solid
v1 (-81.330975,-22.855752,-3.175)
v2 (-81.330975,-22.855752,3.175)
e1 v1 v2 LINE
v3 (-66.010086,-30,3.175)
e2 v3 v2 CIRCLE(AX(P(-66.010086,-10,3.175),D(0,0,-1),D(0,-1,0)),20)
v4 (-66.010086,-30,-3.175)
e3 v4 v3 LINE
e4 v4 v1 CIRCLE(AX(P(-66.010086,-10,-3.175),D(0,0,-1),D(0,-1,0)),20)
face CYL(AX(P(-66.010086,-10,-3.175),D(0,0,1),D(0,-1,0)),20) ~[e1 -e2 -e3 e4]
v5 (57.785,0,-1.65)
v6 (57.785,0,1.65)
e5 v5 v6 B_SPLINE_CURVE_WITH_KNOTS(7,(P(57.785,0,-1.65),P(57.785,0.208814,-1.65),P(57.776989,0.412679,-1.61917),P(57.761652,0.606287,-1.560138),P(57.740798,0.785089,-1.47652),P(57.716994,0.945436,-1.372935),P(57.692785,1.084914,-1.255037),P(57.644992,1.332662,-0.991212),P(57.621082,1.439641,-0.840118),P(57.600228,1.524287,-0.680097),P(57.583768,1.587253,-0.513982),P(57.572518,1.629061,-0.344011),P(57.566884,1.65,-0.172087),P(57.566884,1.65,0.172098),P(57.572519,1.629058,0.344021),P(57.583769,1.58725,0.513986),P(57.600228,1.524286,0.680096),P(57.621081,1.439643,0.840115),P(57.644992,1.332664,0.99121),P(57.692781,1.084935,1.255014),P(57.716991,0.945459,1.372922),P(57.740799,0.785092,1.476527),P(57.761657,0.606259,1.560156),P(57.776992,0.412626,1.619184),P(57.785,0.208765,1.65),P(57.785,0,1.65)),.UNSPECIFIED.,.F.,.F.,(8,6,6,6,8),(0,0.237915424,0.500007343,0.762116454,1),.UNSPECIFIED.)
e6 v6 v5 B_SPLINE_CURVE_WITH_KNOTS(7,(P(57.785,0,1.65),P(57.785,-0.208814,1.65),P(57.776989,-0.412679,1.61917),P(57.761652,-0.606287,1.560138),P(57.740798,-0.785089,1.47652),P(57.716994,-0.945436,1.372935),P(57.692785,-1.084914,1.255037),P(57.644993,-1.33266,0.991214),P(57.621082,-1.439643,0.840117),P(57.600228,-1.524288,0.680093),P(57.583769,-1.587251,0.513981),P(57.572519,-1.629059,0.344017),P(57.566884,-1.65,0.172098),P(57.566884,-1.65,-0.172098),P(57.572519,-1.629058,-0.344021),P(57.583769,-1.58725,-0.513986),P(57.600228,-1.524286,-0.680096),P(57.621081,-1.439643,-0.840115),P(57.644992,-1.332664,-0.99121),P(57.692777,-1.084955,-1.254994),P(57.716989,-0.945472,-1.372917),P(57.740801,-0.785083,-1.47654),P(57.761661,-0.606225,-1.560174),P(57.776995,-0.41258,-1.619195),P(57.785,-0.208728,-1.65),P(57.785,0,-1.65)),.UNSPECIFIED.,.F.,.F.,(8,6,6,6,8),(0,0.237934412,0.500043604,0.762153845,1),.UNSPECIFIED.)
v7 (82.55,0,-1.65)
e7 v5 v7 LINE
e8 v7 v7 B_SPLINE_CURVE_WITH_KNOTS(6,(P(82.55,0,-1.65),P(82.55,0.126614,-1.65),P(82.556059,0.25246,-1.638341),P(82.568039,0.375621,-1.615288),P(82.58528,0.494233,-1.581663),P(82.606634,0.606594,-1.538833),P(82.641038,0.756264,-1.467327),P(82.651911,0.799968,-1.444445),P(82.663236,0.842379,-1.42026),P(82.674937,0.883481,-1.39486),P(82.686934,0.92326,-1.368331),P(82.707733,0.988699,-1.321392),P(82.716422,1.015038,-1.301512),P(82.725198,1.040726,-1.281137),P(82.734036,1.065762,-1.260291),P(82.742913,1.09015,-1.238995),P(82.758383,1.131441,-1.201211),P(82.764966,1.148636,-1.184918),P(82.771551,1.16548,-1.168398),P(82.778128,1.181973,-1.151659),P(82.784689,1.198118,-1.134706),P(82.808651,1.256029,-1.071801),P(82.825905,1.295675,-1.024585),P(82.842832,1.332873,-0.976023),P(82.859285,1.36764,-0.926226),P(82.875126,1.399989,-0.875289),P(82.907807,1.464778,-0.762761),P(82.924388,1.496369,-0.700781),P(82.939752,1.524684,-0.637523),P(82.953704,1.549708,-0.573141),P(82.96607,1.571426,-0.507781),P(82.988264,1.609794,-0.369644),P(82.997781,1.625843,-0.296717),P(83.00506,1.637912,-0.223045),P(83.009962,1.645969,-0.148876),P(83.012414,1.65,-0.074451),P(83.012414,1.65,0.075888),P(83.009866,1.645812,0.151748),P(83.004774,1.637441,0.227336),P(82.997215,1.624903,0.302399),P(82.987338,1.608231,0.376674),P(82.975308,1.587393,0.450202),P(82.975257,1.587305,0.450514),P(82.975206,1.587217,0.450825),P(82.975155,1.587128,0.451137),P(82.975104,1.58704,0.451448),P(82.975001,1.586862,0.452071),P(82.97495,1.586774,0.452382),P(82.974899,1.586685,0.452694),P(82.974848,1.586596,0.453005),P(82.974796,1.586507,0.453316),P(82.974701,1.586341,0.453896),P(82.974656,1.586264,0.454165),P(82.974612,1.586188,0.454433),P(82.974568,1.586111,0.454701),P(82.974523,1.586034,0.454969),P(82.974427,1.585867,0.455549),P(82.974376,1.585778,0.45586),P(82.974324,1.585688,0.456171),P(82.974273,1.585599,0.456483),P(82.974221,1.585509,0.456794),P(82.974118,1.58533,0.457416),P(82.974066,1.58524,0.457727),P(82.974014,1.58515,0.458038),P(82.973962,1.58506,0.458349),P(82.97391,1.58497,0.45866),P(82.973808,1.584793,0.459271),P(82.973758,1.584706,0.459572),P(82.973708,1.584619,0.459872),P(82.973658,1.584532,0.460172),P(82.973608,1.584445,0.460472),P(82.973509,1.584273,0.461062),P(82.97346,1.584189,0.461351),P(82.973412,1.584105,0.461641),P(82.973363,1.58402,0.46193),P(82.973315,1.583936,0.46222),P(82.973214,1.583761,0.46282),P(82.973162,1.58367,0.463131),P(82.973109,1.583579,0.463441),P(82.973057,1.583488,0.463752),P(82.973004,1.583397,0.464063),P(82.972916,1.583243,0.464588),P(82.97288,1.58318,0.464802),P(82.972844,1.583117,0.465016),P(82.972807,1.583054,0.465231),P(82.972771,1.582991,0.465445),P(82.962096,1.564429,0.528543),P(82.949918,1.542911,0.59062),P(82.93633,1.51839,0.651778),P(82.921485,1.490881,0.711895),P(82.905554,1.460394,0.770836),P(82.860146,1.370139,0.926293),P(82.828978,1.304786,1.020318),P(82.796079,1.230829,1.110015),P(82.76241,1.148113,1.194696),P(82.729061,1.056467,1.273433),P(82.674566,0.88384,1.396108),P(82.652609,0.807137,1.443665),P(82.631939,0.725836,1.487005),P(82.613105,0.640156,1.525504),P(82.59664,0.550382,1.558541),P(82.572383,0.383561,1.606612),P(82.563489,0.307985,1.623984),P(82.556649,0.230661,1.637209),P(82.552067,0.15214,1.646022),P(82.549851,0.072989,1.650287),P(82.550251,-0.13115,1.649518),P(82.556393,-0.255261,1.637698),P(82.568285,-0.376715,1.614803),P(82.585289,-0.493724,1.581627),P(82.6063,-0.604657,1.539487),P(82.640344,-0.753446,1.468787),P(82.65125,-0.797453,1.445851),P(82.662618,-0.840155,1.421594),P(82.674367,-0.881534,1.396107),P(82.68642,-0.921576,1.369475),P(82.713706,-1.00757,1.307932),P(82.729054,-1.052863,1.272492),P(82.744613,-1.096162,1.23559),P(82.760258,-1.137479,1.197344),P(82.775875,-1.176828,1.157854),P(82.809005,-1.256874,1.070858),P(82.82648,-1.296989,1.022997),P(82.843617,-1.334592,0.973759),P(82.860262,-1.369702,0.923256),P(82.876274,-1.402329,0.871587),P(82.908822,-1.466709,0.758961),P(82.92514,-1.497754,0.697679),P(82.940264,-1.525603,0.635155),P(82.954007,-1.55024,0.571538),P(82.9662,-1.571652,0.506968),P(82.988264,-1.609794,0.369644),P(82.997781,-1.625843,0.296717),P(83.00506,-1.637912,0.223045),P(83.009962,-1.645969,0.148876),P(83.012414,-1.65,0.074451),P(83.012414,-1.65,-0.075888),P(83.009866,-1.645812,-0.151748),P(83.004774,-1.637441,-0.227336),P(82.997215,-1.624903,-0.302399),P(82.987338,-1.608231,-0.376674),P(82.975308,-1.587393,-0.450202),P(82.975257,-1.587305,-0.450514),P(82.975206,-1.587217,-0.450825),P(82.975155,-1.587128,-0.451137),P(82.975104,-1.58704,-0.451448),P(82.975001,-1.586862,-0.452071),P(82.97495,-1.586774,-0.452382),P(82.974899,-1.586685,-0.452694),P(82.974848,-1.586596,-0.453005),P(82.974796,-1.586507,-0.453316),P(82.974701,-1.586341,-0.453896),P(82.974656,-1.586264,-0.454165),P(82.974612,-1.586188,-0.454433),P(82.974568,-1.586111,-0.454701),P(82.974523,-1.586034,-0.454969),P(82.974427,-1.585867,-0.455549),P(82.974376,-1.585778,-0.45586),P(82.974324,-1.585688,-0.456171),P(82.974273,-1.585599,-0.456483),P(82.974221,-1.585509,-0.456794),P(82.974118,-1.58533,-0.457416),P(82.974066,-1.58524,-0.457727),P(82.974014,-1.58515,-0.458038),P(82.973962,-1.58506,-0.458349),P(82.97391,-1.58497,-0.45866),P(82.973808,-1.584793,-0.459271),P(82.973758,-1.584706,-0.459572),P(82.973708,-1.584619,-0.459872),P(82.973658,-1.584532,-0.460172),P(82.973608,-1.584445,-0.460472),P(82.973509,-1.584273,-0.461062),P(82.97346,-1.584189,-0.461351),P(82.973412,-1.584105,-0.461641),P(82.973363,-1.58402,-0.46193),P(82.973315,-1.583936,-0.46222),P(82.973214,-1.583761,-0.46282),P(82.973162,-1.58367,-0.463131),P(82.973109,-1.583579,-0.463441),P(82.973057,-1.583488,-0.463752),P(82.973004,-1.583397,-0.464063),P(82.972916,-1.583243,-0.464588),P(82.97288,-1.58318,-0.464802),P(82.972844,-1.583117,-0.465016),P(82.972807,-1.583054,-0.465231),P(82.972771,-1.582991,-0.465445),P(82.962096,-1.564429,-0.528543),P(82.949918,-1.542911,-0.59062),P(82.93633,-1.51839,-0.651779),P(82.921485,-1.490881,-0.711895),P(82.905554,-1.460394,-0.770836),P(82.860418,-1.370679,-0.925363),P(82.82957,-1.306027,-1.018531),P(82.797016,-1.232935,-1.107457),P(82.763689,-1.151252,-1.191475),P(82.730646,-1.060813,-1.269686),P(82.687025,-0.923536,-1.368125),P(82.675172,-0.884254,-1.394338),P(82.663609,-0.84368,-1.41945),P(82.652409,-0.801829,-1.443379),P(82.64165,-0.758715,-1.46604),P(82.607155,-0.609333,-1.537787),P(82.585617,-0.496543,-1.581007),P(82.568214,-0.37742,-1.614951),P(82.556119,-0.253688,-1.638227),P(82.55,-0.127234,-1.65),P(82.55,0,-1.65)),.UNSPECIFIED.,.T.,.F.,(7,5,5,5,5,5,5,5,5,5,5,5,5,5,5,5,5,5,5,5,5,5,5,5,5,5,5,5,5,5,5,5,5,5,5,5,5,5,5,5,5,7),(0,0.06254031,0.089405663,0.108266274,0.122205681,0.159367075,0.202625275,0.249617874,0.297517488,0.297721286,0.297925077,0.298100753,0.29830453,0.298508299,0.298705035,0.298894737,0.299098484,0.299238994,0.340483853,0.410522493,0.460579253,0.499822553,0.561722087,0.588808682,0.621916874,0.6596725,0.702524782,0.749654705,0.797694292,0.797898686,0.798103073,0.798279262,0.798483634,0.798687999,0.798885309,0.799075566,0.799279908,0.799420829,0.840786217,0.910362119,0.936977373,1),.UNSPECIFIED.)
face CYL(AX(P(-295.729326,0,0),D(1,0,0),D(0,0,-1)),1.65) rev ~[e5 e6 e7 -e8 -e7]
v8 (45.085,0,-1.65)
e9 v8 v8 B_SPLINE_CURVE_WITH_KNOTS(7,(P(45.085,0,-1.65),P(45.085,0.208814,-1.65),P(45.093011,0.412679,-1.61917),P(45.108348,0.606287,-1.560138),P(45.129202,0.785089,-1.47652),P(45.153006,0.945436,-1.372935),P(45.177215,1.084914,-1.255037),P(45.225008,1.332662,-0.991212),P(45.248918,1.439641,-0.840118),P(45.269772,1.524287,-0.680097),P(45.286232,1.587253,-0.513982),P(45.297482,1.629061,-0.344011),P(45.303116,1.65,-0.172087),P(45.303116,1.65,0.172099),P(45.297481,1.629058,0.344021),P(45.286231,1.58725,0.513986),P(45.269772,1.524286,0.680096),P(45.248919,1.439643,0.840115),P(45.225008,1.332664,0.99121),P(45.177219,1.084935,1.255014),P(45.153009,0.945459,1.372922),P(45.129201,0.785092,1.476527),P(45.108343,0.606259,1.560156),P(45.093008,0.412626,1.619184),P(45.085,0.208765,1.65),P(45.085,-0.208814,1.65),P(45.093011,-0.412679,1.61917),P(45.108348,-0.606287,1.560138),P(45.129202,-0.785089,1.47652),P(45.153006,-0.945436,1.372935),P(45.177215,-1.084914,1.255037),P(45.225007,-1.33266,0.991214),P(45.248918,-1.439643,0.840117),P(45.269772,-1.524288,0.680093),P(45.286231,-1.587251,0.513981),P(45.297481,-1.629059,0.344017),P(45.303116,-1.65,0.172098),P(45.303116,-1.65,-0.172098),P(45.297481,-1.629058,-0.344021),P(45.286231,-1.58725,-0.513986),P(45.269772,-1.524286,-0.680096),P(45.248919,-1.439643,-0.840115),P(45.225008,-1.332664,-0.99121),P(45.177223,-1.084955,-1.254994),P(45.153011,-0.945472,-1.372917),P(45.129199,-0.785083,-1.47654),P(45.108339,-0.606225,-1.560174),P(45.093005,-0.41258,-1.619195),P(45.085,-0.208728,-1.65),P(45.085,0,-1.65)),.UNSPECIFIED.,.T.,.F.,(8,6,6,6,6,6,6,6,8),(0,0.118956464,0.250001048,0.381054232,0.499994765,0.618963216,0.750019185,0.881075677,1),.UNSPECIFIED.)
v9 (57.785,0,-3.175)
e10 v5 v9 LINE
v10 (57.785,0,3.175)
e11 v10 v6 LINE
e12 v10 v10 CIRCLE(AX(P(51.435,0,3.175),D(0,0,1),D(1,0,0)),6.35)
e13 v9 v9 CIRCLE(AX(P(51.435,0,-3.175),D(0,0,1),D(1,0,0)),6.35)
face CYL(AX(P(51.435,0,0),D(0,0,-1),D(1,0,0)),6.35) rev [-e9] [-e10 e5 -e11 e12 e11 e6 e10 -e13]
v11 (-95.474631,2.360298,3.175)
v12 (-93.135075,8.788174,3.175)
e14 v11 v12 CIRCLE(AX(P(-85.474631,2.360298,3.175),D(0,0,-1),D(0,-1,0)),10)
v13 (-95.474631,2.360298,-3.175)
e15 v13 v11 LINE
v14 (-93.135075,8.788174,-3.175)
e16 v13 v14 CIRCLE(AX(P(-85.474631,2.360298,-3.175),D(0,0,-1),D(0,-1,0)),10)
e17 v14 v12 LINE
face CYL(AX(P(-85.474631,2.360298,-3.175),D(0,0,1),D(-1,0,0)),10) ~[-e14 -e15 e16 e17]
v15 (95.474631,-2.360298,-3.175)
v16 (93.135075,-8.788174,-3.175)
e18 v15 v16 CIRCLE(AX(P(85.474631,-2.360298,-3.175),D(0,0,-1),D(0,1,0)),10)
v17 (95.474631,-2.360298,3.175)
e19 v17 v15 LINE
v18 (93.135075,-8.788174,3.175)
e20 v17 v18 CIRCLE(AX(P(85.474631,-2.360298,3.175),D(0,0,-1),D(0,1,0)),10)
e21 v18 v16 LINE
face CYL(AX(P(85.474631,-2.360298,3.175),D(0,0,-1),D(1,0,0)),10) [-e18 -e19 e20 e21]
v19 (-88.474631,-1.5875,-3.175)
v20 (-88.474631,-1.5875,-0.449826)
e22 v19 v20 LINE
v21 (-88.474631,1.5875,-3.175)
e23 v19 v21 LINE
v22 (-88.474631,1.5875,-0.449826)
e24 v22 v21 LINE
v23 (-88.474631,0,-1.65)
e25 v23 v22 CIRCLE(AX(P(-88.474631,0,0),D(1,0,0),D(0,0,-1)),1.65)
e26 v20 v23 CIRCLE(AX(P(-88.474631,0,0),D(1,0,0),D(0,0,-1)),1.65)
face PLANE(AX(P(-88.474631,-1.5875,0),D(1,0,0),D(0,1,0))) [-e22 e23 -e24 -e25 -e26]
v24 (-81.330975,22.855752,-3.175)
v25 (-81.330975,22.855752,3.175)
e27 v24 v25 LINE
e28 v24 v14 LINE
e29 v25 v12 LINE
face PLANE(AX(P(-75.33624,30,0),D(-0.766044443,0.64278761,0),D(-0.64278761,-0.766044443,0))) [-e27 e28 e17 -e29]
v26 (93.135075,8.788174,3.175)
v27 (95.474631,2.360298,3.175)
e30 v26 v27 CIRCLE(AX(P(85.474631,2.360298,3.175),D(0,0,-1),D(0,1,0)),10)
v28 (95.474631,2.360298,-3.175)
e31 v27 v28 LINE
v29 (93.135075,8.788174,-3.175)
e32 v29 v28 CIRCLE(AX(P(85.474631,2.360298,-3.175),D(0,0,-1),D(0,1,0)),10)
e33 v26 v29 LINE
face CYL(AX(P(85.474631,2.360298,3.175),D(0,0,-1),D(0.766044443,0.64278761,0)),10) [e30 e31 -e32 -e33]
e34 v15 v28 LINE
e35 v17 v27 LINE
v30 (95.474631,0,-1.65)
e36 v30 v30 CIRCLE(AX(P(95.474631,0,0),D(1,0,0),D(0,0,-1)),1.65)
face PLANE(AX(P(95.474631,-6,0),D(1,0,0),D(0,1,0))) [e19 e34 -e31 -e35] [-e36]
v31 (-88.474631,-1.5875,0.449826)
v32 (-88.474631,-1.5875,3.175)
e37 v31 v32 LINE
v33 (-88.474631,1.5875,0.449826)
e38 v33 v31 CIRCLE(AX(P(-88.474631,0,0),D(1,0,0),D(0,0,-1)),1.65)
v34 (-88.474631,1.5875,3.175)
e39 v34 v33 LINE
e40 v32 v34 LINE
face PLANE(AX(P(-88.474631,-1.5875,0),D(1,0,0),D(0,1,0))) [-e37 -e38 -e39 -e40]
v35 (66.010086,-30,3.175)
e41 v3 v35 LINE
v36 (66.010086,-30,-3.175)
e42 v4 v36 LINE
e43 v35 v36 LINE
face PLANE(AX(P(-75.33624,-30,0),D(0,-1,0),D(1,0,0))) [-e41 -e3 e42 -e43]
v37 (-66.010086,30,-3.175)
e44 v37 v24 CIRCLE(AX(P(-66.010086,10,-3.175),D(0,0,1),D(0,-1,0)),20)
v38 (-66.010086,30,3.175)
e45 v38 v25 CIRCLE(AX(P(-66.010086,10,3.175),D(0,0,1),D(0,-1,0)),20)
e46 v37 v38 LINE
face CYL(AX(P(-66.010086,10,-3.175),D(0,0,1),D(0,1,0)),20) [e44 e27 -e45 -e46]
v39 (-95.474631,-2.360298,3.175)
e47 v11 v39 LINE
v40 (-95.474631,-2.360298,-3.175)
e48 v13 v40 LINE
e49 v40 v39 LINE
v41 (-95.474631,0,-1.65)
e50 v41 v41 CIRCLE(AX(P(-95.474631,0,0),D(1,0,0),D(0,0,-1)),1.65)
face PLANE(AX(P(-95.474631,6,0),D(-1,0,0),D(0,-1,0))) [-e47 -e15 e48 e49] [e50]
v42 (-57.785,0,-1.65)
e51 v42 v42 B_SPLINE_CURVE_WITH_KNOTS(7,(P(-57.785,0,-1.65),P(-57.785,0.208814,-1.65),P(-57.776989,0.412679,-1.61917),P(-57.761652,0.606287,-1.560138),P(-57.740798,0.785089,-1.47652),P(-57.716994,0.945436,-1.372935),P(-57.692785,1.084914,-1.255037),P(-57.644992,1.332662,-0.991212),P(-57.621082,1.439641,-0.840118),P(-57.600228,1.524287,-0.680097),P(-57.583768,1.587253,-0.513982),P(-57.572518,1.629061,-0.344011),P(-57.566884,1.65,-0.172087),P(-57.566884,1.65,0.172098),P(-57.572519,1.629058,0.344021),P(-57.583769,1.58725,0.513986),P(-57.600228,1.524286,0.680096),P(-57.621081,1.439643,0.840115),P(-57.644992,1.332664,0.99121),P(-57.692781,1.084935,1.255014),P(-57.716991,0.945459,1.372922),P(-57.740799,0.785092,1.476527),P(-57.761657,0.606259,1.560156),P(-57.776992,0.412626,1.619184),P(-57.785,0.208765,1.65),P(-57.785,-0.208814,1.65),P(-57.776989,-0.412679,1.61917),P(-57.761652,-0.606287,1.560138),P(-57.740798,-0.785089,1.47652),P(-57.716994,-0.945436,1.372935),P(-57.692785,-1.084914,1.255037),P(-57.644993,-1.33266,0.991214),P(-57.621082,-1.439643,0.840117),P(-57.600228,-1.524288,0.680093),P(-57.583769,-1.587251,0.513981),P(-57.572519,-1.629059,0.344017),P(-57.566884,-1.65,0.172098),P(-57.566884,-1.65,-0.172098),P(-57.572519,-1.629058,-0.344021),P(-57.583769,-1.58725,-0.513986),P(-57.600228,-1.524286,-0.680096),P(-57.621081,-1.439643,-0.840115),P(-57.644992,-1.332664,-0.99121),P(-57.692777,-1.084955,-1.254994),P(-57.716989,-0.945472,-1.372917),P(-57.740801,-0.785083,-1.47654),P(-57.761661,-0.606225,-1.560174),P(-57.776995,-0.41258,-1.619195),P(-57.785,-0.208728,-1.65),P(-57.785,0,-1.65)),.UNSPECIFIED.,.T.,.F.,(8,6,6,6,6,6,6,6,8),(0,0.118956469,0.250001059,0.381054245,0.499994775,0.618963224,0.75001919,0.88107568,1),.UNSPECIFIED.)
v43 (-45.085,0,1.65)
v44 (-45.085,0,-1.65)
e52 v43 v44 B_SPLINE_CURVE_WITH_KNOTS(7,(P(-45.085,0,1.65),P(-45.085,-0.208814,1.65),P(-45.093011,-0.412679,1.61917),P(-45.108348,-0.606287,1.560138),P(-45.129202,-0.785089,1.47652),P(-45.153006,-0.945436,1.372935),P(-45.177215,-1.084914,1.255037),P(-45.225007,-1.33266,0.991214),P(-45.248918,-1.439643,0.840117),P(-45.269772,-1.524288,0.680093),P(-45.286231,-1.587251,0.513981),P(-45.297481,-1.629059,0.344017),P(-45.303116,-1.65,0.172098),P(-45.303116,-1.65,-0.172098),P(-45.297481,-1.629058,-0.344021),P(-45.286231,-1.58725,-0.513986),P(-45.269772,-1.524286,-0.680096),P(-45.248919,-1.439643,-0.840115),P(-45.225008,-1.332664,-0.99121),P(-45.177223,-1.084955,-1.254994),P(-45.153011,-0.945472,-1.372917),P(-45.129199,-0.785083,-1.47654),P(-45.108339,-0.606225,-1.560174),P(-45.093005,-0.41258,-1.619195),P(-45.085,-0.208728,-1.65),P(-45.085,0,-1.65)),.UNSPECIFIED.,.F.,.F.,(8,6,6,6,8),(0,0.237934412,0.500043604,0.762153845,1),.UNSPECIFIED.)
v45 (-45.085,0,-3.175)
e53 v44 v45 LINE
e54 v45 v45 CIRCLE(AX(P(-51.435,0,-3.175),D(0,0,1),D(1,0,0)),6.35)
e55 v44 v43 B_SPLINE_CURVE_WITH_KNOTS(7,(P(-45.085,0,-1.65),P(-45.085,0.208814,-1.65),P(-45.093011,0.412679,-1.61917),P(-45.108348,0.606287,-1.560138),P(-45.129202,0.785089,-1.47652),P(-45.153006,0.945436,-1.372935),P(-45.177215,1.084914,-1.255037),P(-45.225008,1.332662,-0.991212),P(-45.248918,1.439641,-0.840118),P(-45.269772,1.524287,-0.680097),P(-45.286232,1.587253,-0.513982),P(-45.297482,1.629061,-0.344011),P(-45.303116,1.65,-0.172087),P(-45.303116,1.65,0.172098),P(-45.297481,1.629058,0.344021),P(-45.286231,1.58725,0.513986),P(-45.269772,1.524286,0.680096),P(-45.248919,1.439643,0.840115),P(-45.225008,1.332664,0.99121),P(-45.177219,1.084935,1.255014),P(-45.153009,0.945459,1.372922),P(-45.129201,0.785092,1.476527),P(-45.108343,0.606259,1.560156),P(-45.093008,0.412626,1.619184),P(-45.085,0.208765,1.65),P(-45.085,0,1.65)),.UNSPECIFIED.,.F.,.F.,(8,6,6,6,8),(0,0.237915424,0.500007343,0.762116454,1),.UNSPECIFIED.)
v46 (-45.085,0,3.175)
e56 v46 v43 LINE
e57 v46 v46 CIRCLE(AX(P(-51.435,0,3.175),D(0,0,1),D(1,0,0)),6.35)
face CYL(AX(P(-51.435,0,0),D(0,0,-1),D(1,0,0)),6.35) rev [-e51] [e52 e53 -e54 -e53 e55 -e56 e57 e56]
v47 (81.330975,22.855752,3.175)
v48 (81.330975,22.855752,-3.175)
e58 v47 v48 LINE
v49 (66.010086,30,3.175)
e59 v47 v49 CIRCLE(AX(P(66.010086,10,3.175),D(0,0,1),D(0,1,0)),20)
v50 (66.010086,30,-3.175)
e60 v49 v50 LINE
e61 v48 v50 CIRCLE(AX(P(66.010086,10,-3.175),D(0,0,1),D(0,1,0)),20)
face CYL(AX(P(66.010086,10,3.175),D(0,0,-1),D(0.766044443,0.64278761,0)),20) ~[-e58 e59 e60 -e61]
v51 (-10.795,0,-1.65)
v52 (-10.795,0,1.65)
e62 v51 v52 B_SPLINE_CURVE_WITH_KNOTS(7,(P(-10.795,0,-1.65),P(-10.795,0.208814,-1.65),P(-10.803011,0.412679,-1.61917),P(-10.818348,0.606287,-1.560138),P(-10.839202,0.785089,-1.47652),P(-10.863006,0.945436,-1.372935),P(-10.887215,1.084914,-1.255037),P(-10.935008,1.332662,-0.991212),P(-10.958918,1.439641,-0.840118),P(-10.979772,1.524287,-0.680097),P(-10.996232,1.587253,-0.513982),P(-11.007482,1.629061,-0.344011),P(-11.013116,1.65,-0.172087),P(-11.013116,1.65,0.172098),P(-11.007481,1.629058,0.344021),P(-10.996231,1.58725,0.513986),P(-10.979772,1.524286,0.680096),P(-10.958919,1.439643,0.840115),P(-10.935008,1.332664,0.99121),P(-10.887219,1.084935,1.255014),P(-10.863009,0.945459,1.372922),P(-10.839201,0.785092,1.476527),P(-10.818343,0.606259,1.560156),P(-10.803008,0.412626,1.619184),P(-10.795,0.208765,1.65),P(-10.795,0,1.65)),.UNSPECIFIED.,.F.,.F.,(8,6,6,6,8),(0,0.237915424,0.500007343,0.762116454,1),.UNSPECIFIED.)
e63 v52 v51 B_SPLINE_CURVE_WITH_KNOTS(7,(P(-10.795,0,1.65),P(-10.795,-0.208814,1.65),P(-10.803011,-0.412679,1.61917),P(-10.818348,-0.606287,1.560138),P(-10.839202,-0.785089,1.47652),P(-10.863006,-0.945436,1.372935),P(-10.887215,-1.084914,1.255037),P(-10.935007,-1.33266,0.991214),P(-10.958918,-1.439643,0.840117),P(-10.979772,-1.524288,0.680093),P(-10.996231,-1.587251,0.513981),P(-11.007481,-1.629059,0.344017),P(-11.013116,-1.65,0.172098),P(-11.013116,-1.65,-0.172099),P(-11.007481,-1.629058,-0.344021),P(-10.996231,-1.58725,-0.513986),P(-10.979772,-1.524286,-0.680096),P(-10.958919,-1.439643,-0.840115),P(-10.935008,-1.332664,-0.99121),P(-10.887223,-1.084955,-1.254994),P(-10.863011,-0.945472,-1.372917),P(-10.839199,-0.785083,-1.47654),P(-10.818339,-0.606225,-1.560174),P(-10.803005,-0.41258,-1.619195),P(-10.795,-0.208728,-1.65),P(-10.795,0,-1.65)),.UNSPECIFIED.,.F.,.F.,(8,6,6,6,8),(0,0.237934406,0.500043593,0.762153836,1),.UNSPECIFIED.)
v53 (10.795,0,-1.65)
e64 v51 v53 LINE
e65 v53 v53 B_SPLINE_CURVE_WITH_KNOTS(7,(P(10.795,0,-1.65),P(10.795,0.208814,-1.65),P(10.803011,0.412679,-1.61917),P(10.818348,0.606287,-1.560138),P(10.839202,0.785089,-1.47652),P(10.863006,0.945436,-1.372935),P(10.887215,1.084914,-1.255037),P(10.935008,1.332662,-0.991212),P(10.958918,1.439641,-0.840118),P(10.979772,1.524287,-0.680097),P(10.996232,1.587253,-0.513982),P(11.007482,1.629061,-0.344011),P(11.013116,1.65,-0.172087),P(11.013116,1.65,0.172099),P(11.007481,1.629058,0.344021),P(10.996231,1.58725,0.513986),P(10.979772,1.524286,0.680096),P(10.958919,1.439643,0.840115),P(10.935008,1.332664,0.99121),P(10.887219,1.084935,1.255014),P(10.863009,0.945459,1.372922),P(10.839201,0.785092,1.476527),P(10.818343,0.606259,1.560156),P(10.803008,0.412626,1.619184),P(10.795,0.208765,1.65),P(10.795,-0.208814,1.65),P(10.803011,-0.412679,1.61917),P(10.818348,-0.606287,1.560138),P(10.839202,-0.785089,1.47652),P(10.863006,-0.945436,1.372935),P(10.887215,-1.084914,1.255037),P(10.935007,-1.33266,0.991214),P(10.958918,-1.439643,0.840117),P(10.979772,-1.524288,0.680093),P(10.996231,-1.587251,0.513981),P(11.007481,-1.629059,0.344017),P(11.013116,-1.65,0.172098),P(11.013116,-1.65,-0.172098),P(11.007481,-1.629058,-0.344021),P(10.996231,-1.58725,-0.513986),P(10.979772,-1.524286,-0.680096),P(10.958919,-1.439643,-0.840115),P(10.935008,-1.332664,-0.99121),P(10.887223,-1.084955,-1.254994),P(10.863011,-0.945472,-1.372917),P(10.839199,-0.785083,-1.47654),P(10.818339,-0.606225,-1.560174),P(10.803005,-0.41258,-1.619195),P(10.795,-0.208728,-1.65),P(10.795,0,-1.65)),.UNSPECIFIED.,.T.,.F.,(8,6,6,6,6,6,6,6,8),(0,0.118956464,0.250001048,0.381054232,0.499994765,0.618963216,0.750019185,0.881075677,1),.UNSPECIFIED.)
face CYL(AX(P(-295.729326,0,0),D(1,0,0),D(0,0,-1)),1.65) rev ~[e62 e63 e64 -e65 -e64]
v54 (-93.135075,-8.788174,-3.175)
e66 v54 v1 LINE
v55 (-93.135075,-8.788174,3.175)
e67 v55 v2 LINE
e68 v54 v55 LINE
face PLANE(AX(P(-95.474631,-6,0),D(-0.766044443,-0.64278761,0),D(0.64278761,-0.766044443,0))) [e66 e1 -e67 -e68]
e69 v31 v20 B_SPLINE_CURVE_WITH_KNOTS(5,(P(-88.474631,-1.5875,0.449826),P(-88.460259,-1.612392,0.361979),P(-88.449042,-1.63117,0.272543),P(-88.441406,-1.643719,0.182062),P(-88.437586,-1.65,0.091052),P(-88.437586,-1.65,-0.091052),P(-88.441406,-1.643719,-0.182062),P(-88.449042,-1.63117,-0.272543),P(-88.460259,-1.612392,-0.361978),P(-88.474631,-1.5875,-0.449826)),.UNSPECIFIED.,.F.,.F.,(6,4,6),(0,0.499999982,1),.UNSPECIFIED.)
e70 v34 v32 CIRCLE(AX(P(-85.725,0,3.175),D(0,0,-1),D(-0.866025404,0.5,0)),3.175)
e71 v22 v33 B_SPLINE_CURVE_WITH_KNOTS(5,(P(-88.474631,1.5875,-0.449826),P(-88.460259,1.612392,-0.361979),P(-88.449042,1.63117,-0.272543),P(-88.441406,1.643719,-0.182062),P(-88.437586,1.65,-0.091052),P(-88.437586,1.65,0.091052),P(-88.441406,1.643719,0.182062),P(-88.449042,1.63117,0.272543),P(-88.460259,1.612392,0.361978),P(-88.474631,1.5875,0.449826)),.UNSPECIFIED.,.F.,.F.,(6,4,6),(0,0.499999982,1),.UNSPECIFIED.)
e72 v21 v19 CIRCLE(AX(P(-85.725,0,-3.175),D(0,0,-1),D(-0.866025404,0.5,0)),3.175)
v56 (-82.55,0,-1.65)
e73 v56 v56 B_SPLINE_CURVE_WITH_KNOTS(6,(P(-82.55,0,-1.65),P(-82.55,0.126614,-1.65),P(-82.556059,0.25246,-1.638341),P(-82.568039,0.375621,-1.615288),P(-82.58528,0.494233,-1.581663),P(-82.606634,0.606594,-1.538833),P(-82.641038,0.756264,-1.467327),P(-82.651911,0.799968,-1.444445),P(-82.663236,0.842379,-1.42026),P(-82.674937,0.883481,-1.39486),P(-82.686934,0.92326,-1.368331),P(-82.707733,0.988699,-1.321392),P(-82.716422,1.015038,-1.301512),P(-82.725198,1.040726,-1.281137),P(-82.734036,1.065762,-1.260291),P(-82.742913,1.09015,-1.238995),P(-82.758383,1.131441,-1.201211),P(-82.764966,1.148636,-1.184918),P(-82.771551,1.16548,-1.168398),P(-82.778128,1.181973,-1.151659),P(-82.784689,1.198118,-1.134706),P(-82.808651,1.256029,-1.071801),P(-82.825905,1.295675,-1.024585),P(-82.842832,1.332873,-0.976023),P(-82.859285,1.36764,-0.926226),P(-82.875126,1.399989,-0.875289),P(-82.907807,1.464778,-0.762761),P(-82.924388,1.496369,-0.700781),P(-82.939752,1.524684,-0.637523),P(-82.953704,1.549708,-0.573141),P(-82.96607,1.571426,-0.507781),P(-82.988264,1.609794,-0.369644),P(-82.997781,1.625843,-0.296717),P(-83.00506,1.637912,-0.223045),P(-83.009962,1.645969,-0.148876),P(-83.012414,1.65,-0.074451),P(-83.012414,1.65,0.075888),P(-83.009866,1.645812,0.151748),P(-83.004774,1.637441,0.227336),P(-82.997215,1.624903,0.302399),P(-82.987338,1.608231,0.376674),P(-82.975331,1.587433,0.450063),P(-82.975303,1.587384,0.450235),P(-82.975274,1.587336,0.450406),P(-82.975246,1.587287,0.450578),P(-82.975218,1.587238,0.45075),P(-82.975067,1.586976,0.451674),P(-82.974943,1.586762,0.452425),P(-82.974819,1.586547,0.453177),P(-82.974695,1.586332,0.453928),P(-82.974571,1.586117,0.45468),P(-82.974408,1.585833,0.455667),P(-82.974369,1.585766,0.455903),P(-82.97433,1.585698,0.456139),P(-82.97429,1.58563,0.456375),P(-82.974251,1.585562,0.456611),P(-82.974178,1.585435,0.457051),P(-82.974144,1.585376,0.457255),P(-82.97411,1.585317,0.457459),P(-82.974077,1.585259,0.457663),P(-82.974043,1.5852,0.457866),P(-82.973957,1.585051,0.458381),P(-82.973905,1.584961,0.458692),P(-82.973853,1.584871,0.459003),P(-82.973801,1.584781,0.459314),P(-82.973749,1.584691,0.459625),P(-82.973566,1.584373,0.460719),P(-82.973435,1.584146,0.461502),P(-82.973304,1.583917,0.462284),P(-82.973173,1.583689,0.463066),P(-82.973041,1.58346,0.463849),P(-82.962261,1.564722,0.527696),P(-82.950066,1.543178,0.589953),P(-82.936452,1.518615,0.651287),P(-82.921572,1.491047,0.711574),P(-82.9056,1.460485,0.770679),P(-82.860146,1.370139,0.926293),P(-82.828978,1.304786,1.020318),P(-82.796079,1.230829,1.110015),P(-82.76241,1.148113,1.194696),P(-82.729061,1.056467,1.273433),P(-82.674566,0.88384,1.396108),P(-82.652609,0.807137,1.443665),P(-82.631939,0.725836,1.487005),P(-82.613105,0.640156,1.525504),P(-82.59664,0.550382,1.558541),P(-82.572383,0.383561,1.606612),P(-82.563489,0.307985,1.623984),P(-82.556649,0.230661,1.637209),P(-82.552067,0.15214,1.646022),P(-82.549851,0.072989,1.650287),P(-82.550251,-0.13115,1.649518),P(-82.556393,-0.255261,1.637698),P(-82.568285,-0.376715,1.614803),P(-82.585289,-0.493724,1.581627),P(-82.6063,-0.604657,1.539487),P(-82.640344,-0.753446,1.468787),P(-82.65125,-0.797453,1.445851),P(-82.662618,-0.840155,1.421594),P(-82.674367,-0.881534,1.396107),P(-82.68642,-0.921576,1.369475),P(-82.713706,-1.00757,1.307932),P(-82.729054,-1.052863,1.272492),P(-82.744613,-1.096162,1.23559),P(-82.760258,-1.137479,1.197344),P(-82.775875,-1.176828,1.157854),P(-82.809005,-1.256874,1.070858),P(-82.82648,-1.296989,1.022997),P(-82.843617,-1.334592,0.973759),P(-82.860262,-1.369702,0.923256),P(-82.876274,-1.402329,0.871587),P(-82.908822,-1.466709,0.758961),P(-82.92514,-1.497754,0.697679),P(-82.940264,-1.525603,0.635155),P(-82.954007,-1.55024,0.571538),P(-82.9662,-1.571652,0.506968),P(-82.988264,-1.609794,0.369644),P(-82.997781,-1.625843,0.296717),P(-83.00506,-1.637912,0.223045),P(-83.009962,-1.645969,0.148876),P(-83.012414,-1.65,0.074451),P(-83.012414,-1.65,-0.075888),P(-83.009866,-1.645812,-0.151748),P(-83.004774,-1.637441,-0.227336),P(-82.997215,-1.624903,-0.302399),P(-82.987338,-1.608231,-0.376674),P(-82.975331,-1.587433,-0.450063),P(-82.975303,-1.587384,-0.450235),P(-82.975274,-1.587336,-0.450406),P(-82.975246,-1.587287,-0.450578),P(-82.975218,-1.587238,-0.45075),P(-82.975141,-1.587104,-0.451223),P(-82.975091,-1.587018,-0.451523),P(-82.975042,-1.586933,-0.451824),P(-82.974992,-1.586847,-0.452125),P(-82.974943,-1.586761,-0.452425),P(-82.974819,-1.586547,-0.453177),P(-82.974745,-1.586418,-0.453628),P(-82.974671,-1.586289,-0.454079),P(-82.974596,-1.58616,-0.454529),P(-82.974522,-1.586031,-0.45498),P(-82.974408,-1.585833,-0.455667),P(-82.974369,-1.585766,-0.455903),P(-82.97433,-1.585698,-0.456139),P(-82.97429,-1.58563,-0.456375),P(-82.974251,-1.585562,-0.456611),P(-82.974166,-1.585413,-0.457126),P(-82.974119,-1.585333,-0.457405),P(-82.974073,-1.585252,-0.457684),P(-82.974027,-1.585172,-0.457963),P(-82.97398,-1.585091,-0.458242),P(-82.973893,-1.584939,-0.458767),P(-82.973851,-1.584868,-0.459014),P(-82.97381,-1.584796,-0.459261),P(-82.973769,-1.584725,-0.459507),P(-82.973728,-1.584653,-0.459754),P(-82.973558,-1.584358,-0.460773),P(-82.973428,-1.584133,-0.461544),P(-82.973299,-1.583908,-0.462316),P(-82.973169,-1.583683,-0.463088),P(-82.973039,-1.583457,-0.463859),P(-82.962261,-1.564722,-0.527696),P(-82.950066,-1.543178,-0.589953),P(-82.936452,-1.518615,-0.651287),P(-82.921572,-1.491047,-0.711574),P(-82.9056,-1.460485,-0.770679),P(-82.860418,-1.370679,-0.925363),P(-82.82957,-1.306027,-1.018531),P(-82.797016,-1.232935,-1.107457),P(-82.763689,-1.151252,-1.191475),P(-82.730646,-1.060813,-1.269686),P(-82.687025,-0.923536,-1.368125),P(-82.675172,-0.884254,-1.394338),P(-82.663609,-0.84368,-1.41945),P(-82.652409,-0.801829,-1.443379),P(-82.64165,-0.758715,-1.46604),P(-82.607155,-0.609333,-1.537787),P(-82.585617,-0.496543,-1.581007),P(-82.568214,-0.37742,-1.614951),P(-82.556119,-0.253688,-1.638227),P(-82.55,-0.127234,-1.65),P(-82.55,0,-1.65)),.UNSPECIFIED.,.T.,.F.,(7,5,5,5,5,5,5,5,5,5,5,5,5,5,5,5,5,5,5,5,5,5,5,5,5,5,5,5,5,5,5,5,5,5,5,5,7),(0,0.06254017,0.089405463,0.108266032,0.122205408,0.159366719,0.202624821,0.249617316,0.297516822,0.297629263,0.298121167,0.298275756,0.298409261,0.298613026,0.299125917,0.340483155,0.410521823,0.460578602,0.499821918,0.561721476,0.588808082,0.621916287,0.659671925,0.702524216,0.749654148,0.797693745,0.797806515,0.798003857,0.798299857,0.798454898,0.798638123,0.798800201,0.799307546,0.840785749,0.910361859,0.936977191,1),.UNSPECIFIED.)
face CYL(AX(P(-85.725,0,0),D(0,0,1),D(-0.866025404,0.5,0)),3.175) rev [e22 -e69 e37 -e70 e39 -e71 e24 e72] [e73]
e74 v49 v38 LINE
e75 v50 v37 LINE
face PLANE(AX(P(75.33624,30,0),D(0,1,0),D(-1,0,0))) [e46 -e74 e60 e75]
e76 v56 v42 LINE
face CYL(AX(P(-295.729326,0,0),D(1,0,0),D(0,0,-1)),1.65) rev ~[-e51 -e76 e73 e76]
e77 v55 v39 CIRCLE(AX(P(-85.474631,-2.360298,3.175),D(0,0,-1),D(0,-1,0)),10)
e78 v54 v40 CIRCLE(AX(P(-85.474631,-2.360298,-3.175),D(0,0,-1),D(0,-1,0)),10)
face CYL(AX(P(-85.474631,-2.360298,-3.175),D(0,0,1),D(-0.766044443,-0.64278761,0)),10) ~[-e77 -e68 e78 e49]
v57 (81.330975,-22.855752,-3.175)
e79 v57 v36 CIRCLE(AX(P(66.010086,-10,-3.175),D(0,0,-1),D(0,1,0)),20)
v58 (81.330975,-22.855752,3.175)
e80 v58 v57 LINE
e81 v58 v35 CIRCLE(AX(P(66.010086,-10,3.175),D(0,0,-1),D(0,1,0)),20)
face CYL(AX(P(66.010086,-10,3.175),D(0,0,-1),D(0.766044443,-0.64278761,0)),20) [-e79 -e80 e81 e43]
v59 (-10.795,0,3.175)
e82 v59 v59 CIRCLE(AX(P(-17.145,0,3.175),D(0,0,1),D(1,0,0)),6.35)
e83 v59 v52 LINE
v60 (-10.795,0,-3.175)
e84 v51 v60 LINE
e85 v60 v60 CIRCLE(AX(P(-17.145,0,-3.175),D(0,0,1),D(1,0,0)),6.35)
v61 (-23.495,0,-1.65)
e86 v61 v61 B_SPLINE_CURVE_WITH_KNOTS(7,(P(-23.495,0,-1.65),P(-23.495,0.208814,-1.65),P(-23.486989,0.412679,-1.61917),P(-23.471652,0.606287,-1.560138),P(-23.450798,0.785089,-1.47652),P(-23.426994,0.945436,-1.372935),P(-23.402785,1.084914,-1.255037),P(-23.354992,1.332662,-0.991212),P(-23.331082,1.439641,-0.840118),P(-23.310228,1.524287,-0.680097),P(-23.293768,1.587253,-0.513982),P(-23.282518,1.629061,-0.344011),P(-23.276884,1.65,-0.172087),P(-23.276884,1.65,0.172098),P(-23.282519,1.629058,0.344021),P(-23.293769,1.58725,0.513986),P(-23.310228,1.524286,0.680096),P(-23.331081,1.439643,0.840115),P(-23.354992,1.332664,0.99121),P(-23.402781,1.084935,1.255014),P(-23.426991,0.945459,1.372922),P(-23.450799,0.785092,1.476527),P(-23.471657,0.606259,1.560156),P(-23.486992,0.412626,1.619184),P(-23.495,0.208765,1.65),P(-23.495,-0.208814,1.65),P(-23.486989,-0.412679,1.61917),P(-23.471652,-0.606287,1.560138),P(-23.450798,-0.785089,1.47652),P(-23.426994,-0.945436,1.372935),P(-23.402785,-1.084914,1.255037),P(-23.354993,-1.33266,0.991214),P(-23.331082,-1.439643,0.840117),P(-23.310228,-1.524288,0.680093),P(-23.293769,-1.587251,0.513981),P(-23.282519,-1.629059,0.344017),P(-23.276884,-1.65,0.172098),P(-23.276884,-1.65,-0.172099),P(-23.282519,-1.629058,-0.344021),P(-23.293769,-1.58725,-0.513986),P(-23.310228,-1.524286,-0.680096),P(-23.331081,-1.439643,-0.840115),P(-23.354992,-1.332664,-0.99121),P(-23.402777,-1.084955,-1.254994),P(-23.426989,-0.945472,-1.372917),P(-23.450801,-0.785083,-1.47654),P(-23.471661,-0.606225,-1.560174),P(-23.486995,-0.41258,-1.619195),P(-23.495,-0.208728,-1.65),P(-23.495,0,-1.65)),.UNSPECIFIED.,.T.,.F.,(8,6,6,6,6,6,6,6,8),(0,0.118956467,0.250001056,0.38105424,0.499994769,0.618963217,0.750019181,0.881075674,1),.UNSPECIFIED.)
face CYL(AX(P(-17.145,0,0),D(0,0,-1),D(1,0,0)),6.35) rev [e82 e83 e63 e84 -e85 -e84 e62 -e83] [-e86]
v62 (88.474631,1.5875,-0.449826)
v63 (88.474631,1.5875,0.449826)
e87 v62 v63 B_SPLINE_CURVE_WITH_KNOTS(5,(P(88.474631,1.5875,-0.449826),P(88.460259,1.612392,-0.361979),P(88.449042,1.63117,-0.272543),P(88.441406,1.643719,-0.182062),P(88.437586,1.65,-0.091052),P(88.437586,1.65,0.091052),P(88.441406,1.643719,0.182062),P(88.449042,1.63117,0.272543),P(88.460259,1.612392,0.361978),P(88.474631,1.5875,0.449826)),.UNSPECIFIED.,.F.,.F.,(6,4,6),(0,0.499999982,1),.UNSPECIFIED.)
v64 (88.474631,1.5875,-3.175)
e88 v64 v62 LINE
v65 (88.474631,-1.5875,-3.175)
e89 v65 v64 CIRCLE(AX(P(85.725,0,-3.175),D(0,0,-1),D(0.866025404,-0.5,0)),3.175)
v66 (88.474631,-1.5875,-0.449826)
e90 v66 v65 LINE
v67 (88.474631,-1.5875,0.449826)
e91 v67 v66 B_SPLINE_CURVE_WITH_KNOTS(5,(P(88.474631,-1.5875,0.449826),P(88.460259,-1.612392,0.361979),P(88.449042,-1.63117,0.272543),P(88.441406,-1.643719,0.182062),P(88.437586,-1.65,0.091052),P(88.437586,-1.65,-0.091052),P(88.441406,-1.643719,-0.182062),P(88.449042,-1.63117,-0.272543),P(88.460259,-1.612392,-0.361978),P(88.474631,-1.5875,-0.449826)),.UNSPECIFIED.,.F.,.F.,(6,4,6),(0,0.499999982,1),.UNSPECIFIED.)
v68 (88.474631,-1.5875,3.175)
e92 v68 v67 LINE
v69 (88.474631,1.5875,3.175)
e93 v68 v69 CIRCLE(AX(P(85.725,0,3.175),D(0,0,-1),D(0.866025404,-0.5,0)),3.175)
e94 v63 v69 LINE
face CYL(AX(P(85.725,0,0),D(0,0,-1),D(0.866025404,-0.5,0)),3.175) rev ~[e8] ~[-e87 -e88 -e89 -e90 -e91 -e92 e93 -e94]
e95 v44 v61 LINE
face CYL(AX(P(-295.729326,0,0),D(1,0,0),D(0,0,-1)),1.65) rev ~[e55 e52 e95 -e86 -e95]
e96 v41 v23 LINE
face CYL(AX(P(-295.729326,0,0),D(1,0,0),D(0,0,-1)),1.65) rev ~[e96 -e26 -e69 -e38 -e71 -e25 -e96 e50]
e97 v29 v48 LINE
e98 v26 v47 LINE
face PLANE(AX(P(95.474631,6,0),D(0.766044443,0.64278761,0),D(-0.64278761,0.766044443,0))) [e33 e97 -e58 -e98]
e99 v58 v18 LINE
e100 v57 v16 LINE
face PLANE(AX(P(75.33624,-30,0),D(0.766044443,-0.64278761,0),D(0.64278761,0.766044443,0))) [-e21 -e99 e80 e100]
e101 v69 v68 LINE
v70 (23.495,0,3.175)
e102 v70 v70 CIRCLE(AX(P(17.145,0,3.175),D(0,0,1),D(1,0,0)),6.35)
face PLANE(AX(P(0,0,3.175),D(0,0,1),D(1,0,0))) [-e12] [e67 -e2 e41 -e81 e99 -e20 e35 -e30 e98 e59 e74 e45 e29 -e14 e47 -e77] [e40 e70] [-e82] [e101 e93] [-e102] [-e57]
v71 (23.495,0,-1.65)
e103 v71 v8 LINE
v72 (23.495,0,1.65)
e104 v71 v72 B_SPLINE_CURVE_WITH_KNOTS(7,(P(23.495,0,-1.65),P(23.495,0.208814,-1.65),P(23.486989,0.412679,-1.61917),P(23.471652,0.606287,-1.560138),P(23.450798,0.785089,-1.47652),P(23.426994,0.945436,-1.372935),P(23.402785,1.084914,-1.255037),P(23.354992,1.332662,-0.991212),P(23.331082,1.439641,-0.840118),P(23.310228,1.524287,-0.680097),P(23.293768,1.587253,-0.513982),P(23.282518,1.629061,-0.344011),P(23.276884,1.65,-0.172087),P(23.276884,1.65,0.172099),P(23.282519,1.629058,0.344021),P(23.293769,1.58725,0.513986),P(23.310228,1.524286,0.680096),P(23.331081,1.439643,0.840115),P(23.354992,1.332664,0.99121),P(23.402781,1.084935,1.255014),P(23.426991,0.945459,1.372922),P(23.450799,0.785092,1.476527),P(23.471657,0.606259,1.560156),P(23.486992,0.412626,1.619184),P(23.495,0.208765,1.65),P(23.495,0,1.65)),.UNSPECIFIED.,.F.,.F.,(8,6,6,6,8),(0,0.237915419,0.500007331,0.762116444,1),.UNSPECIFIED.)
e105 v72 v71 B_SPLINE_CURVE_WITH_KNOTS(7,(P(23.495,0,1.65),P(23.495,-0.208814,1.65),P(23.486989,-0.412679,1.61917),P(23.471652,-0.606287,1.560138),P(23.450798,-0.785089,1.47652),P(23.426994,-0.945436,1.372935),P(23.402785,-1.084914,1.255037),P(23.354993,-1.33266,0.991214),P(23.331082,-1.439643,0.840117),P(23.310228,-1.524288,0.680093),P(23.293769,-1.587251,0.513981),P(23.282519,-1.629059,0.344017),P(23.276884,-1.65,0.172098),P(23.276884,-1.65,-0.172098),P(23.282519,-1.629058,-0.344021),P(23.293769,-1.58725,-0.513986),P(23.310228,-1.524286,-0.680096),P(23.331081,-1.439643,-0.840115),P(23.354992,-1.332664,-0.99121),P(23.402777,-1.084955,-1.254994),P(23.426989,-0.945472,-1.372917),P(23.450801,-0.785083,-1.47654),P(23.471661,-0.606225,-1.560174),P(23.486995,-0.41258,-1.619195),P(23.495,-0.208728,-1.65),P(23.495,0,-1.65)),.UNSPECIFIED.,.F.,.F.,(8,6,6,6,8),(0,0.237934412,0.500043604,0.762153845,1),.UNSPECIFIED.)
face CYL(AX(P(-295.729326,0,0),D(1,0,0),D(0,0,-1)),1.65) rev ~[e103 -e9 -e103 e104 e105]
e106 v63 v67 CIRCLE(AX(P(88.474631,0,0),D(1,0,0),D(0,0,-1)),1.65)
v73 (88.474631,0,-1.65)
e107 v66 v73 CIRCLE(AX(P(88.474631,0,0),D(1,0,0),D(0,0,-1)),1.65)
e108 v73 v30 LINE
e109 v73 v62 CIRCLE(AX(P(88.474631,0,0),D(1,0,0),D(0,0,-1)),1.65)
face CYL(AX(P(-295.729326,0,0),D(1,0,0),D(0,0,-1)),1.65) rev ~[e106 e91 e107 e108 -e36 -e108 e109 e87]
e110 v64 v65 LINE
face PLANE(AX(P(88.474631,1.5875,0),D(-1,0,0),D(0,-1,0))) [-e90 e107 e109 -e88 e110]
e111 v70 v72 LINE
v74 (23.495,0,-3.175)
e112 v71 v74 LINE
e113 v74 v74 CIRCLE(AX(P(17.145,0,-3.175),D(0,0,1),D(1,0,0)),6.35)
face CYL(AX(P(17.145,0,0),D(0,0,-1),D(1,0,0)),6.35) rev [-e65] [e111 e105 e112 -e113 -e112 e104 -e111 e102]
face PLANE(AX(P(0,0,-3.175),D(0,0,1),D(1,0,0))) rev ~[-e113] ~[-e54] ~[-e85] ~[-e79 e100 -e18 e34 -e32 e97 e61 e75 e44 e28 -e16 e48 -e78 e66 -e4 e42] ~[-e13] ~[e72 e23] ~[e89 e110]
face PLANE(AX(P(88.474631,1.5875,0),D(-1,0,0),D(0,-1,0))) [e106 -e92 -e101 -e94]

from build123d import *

# Parameters (mm, degrees)
SKETCH1_R             = 6.35
BOSS_EXTRUDE1_DEPTH   = 3.175
FILLET2_R             = 10
FILLET3_R             = 20
M4X0_7_TAPPED_HOLE1_D = 3.3


with BuildPart() as part:
    # Sketch1 → Boss-Extrude1 (new body, symmetric)
    with BuildSketch(Plane.XY):
        Polygon((75.336239509, 30), (-75.336239509, 30), (-95.474630657, 6), (-95.474630657, -6), (-75.336239509, -30), (75.336239509, -30), (95.474630657, -6), (95.474630657, 6), align=None)
        with BuildLine():
            Line((-88.474630657, -1.5875), (-88.474630657, 1.5875))
            ThreePointArc((-88.474630657, 1.5875), (-82.55, 0), (-88.474630657, -1.5875))
        make_face(mode=Mode.SUBTRACT)
        with Locations((-51.435, 0)):
            Circle(SKETCH1_R, mode=Mode.SUBTRACT)
        with Locations((-17.145, 0)):
            Circle(SKETCH1_R, mode=Mode.SUBTRACT)
        with Locations((17.145, 0)):
            Circle(SKETCH1_R, mode=Mode.SUBTRACT)
        with Locations((51.435, 0)):
            Circle(SKETCH1_R, mode=Mode.SUBTRACT)
        with BuildLine():
            ThreePointArc((88.474630657, -1.5875), (82.55, 0), (88.474630657, 1.5875))
            Line((88.474630657, 1.5875), (88.474630657, -1.5875))
        make_face(mode=Mode.SUBTRACT)
    extrude(amount=BOSS_EXTRUDE1_DEPTH, both=True)

    # Fillet2
    fillet2_edges = [part.edges().sort_by_distance(p)[0] for p in [
        (95.474630657, 6, 0),
        (95.474630657, -6, 0),
        (-95.474630657, -6, 0),
        (-95.474630657, 6, 0),
    ]]
    fillet(fillet2_edges, radius=FILLET2_R)

    # Fillet3
    fillet3_edges = [part.edges().sort_by_distance(p)[0] for p in [
        (75.336239509, -30, 0),
        (-75.336239509, -30, 0),
        (-75.336239509, 30, 0),
        (75.336239509, 30, 0),
    ]]
    fillet(fillet3_edges, radius=FILLET3_R)

    # M4x0.7 Tapped Hole1 (through all)
    with Locations(Plane.ZY.offset(95.474630657)):
        with Locations((0, 0)):
            Hole(M4X0_7_TAPPED_HOLE1_D / 2)


solid = part.part
